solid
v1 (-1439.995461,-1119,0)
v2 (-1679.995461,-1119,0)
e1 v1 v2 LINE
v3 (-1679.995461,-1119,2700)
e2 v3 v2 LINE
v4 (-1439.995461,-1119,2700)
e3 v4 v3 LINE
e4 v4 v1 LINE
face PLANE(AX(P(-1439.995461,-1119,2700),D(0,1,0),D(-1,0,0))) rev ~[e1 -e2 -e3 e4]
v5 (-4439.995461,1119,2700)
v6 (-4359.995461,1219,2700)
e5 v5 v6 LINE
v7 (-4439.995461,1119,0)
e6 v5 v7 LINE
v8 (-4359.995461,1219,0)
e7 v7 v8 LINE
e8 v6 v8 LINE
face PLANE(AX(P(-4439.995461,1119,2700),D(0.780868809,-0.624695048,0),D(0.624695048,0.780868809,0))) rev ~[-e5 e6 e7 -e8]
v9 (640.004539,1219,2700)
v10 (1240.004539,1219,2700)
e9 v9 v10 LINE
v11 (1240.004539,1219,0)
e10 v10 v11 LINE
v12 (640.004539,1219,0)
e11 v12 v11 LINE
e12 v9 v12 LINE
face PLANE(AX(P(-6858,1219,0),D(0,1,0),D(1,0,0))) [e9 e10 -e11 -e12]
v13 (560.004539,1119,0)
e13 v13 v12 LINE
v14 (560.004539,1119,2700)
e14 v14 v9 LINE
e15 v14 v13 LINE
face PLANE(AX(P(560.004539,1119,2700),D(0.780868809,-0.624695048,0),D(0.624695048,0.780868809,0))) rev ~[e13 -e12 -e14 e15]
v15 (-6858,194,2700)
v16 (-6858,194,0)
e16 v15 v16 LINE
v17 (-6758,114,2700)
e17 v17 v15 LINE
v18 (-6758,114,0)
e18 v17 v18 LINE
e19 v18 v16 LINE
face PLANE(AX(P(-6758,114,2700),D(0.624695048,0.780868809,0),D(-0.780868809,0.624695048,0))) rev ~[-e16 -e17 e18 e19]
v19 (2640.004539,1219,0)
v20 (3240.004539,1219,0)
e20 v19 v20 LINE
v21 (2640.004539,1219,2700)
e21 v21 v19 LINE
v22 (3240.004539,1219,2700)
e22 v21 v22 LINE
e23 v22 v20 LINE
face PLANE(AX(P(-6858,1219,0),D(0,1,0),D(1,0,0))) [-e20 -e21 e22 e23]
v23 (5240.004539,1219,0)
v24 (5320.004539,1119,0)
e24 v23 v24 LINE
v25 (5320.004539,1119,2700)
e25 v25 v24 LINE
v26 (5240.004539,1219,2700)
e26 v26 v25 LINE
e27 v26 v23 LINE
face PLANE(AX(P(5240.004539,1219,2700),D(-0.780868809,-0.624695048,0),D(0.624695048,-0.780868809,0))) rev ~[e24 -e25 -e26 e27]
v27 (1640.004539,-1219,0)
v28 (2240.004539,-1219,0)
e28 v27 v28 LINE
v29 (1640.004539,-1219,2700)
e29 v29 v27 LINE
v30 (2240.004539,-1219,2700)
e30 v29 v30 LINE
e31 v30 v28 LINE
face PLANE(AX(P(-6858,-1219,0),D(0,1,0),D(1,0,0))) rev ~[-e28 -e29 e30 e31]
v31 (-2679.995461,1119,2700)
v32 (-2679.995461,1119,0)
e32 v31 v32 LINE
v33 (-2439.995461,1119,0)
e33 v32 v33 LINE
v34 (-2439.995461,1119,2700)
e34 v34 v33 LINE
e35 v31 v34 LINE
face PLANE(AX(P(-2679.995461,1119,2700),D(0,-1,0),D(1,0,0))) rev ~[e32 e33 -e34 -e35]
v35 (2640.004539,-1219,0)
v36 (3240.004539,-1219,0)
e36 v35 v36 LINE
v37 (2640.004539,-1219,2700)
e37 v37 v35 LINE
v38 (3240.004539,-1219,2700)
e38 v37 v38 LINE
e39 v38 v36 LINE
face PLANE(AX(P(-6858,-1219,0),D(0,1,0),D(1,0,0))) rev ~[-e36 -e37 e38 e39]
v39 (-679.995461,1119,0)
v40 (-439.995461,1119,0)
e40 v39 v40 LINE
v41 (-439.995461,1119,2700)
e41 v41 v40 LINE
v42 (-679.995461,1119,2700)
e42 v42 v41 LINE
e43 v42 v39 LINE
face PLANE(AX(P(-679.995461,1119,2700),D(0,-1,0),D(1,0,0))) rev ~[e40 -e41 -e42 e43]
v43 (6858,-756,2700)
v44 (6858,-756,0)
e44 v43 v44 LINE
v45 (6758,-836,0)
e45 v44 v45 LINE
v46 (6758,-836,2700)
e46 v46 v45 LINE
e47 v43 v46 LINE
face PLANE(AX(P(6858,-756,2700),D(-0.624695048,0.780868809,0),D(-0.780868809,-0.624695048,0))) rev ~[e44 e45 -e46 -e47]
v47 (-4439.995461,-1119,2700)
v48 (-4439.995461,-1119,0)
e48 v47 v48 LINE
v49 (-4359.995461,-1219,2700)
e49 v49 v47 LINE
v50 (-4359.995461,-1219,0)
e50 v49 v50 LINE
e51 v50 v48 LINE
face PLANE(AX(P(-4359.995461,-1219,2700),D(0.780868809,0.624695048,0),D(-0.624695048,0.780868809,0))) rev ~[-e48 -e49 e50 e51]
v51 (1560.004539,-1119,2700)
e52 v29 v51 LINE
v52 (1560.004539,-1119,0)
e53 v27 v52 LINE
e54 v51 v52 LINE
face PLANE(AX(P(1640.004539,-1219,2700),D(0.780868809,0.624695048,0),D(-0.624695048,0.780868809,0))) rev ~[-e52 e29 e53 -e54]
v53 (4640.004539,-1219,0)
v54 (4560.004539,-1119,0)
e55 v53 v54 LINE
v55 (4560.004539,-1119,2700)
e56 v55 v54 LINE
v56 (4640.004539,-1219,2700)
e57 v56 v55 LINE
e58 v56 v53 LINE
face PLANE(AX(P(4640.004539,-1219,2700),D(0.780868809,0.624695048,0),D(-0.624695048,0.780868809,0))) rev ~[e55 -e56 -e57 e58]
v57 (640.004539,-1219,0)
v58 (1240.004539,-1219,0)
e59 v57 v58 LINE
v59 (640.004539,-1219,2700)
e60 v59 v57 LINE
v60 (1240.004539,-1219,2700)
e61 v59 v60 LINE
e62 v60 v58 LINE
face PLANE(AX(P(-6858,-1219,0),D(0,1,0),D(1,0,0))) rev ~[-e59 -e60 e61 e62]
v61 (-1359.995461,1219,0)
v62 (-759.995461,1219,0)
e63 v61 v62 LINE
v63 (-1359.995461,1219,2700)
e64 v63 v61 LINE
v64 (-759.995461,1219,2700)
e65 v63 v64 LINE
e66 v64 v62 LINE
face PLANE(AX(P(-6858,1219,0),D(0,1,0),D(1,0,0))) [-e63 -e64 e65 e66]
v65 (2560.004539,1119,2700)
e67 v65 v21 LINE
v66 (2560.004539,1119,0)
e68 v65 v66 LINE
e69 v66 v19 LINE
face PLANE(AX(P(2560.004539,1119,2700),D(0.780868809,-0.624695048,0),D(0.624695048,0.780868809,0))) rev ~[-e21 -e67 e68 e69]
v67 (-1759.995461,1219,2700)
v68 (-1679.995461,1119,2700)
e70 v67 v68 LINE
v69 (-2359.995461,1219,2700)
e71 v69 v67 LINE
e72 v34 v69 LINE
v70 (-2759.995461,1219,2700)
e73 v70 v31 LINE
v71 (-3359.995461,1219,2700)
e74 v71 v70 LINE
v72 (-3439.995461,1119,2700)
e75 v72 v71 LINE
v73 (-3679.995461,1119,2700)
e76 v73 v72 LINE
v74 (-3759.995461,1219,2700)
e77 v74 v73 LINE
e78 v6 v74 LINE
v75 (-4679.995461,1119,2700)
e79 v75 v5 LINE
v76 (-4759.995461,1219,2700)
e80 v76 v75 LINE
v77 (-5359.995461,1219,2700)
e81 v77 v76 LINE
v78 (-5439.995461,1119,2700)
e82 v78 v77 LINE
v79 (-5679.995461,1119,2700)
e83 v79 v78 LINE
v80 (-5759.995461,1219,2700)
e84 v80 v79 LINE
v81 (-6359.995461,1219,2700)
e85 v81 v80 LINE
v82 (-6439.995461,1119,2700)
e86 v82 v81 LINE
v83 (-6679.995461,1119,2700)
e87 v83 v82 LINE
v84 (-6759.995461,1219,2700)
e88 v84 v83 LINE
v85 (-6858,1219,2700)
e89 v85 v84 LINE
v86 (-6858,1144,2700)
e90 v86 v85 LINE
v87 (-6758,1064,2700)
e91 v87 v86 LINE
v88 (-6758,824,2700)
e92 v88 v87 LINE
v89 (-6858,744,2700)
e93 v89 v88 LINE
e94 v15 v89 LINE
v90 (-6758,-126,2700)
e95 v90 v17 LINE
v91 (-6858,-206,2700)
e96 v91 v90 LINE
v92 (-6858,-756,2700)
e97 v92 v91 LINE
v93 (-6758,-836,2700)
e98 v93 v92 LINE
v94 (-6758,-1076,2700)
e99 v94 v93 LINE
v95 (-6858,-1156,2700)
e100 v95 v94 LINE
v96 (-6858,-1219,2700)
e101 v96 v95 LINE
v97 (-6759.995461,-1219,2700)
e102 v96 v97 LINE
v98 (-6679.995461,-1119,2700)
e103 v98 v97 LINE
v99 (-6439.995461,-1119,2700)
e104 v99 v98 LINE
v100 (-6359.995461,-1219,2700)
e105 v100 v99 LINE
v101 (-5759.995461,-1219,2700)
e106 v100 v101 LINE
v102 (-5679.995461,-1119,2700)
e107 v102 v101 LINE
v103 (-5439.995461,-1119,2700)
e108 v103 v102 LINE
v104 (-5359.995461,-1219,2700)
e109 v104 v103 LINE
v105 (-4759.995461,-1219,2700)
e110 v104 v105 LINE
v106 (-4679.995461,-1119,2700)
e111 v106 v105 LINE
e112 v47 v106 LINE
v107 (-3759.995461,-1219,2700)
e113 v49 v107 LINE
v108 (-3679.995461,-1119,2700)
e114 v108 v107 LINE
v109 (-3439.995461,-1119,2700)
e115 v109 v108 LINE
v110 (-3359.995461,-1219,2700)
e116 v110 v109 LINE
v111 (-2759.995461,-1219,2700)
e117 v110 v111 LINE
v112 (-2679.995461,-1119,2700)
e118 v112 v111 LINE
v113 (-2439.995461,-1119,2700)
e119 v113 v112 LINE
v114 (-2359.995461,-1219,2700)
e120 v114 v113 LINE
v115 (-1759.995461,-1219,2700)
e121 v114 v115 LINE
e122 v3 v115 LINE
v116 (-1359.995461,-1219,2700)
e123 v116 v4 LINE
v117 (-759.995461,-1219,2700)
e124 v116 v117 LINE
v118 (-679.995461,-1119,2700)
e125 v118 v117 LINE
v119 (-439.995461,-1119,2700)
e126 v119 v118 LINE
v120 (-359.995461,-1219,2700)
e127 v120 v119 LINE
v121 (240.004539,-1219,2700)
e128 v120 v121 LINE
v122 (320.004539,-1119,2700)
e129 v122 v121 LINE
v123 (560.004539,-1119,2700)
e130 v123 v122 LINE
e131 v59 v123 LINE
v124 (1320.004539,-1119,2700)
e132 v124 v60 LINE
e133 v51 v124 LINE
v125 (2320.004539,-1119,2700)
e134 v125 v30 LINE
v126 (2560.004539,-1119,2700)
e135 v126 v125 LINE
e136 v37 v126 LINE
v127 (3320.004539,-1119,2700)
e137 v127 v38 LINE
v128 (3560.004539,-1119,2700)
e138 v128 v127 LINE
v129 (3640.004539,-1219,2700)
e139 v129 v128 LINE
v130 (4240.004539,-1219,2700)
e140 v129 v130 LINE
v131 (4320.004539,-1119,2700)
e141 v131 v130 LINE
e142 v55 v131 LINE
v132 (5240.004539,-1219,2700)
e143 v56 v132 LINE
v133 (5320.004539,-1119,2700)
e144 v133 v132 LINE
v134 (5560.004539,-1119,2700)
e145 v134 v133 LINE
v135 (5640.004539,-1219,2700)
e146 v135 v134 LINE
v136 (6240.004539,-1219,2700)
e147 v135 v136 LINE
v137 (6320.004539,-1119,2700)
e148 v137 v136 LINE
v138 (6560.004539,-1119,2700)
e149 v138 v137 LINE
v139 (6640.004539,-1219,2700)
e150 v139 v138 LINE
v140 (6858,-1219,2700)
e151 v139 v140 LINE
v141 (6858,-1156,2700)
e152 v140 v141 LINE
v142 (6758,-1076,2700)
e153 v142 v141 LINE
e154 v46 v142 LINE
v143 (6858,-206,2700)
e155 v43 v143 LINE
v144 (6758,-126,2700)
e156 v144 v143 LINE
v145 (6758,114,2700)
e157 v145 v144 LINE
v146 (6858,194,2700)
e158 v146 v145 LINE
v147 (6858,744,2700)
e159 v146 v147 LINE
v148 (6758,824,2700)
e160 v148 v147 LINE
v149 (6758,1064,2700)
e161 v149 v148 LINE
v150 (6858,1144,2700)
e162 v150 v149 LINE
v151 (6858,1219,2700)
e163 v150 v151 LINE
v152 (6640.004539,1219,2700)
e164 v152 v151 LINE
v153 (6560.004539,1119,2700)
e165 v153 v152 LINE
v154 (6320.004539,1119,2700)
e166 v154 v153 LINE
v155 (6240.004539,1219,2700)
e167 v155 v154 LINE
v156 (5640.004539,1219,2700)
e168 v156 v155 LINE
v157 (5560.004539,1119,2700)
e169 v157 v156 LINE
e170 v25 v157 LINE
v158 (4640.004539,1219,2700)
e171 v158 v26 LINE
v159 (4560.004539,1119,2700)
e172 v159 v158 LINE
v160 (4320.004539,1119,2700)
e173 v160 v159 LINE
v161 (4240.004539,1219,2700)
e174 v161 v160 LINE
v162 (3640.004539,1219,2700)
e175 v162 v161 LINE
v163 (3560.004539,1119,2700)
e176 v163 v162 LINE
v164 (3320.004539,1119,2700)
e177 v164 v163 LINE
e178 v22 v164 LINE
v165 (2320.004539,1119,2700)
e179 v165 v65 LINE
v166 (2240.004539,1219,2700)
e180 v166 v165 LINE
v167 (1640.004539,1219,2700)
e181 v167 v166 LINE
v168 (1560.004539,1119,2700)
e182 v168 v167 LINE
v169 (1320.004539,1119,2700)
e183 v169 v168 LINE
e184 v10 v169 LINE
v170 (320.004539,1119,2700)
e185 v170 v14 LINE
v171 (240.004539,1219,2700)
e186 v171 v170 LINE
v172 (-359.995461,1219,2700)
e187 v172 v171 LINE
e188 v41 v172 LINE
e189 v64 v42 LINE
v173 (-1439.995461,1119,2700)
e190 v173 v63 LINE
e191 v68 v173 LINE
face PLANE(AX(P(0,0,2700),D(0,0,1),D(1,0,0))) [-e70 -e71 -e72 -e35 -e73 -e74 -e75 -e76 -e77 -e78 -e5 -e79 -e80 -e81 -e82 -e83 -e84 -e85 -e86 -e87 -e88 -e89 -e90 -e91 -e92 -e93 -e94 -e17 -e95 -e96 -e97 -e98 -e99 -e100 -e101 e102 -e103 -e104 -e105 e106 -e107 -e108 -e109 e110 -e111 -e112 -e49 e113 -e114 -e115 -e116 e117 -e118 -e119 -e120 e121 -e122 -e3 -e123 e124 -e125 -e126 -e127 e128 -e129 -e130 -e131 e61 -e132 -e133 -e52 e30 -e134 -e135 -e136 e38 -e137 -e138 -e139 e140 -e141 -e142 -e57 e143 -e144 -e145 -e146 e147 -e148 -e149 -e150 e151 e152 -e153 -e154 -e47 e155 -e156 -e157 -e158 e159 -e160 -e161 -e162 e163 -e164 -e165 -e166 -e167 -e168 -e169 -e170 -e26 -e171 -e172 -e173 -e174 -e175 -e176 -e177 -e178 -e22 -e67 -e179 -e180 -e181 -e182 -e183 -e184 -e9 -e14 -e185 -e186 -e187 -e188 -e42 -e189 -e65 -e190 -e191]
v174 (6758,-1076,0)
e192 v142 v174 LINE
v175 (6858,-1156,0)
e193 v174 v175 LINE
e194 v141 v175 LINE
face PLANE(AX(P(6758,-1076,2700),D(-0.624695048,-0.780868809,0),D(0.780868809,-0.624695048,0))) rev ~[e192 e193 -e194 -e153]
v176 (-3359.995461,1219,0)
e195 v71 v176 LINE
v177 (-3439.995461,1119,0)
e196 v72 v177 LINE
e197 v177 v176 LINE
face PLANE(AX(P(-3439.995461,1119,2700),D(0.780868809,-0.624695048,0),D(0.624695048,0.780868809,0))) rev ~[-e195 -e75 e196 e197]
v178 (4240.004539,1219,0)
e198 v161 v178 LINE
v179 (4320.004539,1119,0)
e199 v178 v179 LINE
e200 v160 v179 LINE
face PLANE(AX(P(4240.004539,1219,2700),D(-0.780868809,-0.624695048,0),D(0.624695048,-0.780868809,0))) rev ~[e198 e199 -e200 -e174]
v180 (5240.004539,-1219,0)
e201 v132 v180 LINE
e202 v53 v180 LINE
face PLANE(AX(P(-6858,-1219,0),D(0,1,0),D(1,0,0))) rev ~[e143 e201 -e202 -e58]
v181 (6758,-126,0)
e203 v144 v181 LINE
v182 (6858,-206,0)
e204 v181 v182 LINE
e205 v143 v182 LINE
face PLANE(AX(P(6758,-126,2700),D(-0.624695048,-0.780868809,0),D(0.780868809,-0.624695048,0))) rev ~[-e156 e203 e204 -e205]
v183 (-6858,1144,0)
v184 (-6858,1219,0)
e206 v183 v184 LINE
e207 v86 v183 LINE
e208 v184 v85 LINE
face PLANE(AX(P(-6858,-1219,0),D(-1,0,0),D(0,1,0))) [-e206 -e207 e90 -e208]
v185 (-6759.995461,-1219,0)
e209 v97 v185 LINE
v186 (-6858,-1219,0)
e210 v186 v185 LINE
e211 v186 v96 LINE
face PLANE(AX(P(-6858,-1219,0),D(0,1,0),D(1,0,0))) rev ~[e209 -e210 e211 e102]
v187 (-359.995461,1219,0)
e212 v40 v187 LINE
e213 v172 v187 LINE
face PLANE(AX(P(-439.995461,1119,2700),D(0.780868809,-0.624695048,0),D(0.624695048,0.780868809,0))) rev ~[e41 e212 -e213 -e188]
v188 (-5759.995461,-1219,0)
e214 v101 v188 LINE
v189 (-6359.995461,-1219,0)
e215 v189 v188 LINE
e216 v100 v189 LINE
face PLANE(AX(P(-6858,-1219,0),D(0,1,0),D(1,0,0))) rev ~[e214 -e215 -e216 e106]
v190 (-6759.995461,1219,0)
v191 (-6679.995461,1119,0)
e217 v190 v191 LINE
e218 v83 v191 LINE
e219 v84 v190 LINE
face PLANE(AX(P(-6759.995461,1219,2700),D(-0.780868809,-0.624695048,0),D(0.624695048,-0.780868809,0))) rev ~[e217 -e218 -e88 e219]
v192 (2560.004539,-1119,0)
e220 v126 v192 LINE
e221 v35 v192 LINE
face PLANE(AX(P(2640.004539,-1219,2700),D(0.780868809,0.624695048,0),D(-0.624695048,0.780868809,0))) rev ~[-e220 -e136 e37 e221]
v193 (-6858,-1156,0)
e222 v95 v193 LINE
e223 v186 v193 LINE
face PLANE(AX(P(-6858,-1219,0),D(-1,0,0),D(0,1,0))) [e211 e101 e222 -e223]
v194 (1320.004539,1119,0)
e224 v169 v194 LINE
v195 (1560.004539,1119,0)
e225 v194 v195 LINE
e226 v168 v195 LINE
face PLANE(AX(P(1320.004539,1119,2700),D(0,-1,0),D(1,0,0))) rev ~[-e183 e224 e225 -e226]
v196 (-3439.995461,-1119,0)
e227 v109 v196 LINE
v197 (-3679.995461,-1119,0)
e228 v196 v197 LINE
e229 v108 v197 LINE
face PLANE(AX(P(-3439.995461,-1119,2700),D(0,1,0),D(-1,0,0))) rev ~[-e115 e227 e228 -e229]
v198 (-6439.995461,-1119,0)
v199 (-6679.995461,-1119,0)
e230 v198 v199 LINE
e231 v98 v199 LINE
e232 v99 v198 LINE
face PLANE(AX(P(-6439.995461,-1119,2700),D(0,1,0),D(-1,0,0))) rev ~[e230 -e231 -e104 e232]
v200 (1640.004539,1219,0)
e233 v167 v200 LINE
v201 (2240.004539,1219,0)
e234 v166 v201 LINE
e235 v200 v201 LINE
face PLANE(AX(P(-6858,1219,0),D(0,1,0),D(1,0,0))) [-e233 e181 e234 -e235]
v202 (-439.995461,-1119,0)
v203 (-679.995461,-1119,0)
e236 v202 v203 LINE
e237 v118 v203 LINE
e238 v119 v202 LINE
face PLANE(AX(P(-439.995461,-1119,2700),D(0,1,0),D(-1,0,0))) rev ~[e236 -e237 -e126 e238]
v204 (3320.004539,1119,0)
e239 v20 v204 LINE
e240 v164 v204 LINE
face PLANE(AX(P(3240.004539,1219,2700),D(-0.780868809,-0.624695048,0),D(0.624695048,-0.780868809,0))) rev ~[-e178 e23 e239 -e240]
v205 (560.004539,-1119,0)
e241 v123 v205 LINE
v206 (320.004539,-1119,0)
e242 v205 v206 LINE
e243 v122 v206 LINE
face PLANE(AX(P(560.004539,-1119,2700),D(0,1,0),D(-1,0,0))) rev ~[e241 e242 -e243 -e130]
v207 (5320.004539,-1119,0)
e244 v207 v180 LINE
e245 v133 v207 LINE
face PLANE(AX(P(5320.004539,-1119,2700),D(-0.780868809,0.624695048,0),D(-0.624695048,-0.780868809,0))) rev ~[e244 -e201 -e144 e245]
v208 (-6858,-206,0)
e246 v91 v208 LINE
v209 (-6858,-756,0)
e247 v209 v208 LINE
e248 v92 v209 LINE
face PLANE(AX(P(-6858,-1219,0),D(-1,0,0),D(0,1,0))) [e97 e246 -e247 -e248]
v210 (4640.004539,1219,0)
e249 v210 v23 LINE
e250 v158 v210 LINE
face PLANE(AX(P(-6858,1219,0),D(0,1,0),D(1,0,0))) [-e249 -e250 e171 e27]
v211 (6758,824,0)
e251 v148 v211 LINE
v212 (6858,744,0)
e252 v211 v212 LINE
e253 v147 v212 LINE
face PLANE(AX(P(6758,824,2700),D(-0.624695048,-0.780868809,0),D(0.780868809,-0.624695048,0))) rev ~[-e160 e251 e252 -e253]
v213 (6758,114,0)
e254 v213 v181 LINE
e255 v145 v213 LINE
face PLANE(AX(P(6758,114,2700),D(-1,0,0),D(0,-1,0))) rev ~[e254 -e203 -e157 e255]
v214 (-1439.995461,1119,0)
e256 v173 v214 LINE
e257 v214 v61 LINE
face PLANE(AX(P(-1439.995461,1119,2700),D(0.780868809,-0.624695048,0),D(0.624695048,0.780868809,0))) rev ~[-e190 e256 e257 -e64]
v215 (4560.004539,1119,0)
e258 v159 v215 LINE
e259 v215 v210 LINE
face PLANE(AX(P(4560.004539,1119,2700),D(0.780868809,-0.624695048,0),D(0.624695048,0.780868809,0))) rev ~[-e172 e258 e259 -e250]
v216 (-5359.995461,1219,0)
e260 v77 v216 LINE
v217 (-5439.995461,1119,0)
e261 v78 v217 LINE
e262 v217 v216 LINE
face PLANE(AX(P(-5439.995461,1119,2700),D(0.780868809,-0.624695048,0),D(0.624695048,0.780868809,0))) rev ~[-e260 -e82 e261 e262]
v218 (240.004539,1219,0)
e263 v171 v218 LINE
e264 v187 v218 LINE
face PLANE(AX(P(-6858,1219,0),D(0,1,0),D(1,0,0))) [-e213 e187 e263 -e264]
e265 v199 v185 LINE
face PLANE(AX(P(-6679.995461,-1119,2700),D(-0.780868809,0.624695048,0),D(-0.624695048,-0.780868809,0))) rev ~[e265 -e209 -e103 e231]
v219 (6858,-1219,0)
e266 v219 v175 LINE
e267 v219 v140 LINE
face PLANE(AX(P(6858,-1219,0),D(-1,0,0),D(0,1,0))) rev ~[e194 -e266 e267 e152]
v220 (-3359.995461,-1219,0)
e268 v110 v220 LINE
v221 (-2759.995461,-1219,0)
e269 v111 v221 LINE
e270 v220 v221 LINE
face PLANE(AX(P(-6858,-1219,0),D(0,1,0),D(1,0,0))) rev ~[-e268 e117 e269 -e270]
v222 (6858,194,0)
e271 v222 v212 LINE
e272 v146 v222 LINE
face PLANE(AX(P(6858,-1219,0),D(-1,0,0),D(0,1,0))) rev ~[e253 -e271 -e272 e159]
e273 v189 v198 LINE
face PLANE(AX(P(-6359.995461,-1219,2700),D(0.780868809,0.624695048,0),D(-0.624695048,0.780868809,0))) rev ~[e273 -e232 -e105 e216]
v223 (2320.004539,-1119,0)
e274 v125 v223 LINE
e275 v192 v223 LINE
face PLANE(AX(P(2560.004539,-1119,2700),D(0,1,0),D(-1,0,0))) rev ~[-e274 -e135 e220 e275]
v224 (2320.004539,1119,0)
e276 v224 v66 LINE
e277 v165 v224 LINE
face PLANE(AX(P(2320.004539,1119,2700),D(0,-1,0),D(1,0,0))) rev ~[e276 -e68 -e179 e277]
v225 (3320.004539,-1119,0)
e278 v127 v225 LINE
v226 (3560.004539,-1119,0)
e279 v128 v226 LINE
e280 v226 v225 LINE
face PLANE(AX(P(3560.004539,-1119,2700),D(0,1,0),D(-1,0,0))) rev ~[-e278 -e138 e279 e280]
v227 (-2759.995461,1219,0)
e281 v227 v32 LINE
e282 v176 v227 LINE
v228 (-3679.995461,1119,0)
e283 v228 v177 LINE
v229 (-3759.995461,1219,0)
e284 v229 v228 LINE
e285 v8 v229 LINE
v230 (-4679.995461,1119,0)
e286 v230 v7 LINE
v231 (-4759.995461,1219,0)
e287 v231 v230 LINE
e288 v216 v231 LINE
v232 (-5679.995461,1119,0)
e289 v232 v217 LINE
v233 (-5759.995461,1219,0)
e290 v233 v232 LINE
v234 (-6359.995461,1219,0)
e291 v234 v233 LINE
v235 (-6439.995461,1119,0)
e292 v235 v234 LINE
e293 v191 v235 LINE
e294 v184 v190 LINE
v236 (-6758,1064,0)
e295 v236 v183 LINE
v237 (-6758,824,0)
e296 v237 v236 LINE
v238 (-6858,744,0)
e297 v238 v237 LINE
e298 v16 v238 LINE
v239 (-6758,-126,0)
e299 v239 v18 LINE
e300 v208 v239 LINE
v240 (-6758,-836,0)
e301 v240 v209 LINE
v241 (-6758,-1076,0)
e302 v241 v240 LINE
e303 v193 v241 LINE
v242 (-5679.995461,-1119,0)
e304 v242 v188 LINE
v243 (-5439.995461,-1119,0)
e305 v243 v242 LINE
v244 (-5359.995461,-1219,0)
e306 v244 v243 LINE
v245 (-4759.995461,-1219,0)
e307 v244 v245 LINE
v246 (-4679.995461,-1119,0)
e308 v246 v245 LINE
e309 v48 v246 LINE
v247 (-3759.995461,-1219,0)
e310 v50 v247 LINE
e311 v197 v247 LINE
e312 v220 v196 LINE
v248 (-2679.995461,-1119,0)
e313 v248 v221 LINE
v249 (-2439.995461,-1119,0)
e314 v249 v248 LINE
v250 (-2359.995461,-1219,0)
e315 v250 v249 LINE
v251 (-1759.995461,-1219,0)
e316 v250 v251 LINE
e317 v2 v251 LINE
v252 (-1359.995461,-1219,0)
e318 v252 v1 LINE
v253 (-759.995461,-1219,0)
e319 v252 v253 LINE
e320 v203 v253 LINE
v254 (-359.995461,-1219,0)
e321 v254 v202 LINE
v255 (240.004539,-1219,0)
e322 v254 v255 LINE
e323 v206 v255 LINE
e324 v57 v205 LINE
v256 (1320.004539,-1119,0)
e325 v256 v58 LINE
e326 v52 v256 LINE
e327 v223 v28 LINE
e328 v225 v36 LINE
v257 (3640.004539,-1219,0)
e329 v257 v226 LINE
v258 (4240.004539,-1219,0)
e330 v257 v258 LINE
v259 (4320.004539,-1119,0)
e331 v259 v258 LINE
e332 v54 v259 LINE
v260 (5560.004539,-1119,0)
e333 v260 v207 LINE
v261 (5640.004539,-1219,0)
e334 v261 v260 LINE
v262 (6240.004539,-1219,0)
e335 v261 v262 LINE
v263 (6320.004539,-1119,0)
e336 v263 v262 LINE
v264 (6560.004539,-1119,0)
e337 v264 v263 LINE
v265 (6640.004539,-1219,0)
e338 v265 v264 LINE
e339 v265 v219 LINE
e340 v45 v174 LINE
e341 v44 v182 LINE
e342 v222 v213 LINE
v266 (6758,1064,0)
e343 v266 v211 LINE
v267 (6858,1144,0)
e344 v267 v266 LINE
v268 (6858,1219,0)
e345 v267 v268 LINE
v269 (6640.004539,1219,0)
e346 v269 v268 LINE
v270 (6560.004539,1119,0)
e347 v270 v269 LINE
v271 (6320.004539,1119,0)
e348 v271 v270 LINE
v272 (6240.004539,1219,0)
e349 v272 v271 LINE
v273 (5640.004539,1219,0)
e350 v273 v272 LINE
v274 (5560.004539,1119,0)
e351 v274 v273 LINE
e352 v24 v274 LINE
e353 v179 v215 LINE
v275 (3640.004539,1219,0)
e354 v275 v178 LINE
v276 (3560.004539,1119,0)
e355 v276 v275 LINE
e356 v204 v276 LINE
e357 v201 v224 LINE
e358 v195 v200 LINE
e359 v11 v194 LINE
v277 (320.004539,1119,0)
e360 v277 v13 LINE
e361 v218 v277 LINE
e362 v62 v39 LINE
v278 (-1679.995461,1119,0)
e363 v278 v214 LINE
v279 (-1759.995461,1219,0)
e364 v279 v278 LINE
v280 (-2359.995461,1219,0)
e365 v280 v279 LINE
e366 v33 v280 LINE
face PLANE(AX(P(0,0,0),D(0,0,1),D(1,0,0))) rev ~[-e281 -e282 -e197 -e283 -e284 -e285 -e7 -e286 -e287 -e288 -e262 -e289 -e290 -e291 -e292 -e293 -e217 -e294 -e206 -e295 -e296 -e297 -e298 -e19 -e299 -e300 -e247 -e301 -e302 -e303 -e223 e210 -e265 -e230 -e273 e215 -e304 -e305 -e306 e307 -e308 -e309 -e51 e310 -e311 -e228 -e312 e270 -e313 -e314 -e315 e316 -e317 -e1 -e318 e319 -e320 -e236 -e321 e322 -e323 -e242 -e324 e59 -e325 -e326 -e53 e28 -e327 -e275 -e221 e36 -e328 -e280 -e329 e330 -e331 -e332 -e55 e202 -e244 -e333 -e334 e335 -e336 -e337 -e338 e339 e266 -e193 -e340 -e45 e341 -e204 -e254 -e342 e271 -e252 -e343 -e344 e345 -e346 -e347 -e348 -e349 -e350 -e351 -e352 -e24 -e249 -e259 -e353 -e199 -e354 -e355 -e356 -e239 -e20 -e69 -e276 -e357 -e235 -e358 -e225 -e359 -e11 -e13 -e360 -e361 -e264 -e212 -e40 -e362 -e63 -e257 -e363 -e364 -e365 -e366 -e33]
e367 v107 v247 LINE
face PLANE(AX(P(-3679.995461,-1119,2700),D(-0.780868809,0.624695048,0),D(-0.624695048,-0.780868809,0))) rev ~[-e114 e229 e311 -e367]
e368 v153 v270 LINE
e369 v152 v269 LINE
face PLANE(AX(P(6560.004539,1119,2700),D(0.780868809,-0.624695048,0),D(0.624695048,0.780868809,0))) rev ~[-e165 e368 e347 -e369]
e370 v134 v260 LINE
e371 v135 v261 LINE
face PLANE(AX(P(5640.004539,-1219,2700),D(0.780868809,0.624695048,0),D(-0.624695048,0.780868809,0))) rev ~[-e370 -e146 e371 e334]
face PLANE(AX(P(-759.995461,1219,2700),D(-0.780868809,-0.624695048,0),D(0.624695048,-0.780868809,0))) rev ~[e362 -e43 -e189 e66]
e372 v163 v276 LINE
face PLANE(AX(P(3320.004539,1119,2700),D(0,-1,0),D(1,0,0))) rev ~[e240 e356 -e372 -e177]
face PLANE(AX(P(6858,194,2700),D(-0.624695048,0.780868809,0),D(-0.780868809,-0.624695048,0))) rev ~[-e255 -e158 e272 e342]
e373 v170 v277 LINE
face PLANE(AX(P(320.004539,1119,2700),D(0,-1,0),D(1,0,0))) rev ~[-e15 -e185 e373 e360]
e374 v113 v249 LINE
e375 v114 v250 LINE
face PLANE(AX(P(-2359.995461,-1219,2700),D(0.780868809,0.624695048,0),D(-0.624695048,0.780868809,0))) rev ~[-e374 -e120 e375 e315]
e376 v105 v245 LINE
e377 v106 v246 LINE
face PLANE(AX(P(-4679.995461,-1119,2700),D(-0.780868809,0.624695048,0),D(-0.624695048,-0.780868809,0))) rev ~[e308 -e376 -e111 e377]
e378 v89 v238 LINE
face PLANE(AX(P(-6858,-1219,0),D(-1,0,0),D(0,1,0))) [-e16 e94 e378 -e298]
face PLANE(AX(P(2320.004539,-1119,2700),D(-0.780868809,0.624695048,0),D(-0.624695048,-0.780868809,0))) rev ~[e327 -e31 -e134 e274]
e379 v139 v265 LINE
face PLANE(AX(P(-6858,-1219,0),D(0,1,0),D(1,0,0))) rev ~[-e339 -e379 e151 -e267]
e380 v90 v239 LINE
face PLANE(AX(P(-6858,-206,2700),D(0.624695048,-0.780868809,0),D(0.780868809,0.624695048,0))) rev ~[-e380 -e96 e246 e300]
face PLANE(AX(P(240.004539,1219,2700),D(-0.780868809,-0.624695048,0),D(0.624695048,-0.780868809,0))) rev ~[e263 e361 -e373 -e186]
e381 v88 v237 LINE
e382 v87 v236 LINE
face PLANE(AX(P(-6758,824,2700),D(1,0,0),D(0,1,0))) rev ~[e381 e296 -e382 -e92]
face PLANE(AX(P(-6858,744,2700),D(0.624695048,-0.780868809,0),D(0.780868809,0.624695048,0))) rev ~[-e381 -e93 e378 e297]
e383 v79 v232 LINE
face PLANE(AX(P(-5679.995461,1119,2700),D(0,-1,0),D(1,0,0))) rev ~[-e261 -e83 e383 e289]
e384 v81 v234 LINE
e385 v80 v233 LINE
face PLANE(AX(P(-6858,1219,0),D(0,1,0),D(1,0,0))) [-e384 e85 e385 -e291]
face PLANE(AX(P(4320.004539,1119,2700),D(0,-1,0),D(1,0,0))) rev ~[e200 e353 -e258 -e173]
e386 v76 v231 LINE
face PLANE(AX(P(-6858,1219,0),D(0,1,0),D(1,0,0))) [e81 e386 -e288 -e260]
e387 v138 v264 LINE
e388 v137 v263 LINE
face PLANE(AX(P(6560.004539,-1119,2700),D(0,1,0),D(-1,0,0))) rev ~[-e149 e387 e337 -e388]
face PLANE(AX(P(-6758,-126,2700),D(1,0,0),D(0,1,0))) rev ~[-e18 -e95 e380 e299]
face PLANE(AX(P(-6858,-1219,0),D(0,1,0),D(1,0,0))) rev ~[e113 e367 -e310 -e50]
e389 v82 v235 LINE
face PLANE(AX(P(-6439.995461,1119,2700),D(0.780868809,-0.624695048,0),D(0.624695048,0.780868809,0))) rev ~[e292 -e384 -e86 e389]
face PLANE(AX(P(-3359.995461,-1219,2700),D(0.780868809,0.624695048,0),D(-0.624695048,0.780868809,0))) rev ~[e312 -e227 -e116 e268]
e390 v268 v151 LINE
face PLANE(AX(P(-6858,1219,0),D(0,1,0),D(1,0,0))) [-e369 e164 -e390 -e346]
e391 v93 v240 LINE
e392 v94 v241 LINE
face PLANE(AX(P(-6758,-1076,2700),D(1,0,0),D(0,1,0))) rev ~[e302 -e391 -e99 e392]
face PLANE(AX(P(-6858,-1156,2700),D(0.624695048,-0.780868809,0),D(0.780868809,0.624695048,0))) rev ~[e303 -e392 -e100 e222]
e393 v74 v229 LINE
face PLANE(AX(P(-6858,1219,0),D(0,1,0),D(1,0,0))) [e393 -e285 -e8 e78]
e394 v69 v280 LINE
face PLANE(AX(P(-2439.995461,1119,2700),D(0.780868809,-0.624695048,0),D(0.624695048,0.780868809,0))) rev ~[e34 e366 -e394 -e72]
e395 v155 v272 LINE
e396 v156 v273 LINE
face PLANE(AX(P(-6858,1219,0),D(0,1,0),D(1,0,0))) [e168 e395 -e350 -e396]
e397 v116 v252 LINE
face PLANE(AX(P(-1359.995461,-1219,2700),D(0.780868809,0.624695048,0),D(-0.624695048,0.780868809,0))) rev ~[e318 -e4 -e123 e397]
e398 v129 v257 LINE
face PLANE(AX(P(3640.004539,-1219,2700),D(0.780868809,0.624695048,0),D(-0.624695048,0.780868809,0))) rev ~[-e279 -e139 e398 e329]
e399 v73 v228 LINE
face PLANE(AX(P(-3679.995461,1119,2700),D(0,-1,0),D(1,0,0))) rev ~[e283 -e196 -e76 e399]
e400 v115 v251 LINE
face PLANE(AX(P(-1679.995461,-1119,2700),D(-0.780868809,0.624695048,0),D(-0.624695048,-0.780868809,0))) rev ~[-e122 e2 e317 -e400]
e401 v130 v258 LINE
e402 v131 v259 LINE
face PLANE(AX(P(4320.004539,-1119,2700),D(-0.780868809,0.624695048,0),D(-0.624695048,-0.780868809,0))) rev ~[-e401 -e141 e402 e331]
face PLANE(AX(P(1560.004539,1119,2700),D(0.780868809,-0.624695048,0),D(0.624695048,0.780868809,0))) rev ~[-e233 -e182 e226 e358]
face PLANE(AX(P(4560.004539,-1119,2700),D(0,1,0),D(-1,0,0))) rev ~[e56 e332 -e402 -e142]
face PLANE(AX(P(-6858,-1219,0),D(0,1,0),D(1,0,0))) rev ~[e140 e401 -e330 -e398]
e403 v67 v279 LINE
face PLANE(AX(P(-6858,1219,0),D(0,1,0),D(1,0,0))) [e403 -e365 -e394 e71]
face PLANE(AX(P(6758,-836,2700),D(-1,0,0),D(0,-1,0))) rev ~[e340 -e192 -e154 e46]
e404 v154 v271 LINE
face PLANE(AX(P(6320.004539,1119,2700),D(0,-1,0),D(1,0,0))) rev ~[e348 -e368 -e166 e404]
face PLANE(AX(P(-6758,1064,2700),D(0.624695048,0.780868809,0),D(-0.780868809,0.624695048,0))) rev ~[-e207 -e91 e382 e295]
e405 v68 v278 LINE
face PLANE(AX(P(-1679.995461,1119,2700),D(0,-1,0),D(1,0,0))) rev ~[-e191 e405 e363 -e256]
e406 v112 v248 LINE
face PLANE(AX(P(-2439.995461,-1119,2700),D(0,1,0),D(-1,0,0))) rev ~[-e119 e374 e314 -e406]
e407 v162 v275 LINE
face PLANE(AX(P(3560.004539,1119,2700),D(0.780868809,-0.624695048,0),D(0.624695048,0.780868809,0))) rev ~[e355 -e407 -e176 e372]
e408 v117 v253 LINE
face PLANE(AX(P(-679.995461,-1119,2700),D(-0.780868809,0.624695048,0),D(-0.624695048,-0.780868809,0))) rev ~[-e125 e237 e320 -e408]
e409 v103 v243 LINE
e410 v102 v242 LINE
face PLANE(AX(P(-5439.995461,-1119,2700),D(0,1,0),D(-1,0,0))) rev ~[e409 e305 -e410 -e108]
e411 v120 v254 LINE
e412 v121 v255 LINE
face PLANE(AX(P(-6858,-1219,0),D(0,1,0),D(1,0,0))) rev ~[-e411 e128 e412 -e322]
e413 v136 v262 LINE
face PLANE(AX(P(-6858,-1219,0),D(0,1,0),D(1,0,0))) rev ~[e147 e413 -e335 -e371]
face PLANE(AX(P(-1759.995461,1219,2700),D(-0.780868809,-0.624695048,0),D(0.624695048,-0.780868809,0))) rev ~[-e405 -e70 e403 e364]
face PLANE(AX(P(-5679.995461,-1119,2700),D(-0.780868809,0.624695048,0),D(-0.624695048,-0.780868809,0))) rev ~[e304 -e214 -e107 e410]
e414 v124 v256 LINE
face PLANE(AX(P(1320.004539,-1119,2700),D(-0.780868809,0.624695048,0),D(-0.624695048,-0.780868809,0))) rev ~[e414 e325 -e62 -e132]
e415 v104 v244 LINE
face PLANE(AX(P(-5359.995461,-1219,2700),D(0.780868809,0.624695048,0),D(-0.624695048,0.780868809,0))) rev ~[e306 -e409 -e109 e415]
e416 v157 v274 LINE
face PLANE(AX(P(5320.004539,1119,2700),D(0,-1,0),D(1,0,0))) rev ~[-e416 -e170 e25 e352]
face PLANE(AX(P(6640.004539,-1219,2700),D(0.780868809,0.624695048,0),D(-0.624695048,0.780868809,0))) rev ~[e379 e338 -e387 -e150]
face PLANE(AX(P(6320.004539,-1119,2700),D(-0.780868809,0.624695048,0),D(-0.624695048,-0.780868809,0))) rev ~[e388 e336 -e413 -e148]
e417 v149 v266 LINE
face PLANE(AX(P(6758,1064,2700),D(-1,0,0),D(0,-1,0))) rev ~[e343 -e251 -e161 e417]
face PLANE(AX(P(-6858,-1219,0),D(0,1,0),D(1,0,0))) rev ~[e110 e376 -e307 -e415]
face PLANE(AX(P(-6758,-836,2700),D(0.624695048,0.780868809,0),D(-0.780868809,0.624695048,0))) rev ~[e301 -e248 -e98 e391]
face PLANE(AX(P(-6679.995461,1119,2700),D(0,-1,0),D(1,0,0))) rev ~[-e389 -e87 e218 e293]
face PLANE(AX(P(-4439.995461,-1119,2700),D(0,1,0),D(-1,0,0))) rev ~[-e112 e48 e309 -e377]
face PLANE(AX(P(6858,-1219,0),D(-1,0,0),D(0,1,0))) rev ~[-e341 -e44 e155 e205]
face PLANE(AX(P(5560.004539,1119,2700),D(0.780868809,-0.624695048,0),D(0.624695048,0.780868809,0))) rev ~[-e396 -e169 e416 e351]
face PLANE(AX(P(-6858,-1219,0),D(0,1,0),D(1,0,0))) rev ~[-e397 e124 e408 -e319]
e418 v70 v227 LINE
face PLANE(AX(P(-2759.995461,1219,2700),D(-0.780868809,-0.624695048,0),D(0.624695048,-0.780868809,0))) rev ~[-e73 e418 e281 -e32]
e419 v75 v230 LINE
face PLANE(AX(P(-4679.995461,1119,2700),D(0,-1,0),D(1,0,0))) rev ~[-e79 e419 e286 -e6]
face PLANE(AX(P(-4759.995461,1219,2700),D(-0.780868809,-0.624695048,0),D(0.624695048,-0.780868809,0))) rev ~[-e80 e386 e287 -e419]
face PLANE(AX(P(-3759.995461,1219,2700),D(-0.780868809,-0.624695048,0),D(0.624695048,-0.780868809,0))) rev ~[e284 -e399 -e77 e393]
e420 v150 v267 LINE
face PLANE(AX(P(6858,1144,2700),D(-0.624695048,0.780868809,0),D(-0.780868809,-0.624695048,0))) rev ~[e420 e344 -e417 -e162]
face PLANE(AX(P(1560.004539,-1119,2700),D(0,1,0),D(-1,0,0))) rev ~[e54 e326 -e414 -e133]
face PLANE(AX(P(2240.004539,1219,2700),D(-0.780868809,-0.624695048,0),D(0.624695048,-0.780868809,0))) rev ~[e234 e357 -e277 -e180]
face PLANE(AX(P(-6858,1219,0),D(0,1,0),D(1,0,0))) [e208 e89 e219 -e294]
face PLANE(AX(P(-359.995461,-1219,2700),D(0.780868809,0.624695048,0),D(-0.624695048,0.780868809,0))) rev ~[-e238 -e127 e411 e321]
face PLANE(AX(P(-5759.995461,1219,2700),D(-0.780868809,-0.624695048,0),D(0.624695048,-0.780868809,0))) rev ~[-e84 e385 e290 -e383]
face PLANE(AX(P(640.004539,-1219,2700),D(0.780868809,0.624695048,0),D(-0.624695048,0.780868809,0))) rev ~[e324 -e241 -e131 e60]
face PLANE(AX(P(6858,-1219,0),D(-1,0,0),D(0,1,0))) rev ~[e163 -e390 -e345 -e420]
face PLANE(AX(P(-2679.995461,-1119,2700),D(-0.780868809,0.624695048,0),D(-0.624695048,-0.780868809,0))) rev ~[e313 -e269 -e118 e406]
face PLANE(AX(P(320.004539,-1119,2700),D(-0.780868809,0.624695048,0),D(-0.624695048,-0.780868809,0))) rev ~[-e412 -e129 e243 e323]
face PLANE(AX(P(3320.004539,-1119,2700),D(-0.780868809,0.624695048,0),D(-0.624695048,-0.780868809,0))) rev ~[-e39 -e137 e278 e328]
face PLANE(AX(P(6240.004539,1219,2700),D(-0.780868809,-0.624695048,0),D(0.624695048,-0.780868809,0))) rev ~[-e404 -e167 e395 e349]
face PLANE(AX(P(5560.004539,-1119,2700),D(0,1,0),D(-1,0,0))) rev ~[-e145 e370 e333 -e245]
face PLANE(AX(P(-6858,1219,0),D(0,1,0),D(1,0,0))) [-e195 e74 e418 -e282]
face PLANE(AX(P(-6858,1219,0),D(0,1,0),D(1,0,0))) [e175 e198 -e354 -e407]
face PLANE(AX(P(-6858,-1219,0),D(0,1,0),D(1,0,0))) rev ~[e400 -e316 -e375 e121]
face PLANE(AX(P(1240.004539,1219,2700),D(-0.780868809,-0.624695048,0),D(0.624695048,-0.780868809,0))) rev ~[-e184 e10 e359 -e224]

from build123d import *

# Parameters (mm, degrees)
F0_W     = 13716
F0_H     = 2438
F1_DEPTH = 2700
F3_DEPTH = 2700


with BuildPart() as f1:
    # F0 (on Top) → F1 (new body)
    with BuildSketch(Plane.XY):
        Rectangle(F0_W, F0_H)
    extrude(amount=F1_DEPTH)

    # F2 (on face) → F3 (cut, through all)
    with BuildSketch(Plane.XY.offset(2700)):
        Polygon((-6559.995461, 1219), (-6759.995461, 1219), (-6679.995461, 1119), (-6559.995461, 1119), (-6439.995461, 1119), (-6359.995461, 1219), align=None)
        Polygon((-5559.995461, 1219), (-5759.995461, 1219), (-5679.995461, 1119), (-5559.995461, 1119), (-5439.995461, 1119), (-5359.995461, 1219), align=None)
        Polygon((-4559.995461, 1219), (-4759.995461, 1219), (-4679.995461, 1119), (-4559.995461, 1119), (-4439.995461, 1119), (-4359.995461, 1219), align=None)
        Polygon((-6679.995461, -1119), (-6759.995461, -1219), (-6559.995461, -1219), (-6359.995461, -1219), (-6439.995461, -1119), (-6559.995461, -1119), align=None)
        Polygon((-5679.995461, -1119), (-5759.995461, -1219), (-5559.995461, -1219), (-5359.995461, -1219), (-5439.995461, -1119), (-5559.995461, -1119), align=None)
        Polygon((-4679.995461, -1119), (-4759.995461, -1219), (-4559.995461, -1219), (-4359.995461, -1219), (-4439.995461, -1119), (-4559.995461, -1119), align=None)
        Polygon((-3679.995461, -1119), (-3759.995461, -1219), (-3559.995461, -1219), (-3359.995461, -1219), (-3439.995461, -1119), (-3559.995461, -1119), align=None)
        Polygon((-2679.995461, -1119), (-2759.995461, -1219), (-2559.995461, -1219), (-2359.995461, -1219), (-2439.995461, -1119), (-2559.995461, -1119), align=None)
        Polygon((-2559.995461, 1219), (-2759.995461, 1219), (-2679.995461, 1119), (-2559.995461, 1119), (-2439.995461, 1119), (-2359.995461, 1219), align=None)
        Polygon((-1559.995461, 1219), (-1759.995461, 1219), (-1679.995461, 1119), (-1559.995461, 1119), (-1439.995461, 1119), (-1359.995461, 1219), align=None)
        Polygon((-3559.995461, 1219), (-3759.995461, 1219), (-3679.995461, 1119), (-3559.995461, 1119), (-3439.995461, 1119), (-3359.995461, 1219), align=None)
        Polygon((-1679.995461, -1119), (-1759.995461, -1219), (-1559.995461, -1219), (-1359.995461, -1219), (-1439.995461, -1119), (-1559.995461, -1119), align=None)
        Polygon((-679.995461, -1119), (-759.995461, -1219), (-559.995461, -1219), (-359.995461, -1219), (-439.995461, -1119), (-559.995461, -1119), align=None)
        Polygon((-559.995461, 1219), (-759.995461, 1219), (-679.995461, 1119), (-559.995461, 1119), (-439.995461, 1119), (-359.995461, 1219), align=None)
        Polygon((440.004539, 1219), (240.004539, 1219), (320.004539, 1119), (440.004539, 1119), (560.004539, 1119), (640.004539, 1219), align=None)
        Polygon((1440.004539, 1219), (1240.004539, 1219), (1320.004539, 1119), (1440.004539, 1119), (1560.004539, 1119), (1640.004539, 1219), align=None)
        Polygon((320.004539, -1119), (240.004539, -1219), (440.004539, -1219), (640.004539, -1219), (560.004539, -1119), (440.004539, -1119), align=None)
        Polygon((1320.004539, -1119), (1240.004539, -1219), (1440.004539, -1219), (1640.004539, -1219), (1560.004539, -1119), (1440.004539, -1119), align=None)
        Polygon((2320.004539, -1119), (2240.004539, -1219), (2440.004539, -1219), (2640.004539, -1219), (2560.004539, -1119), (2440.004539, -1119), align=None)
        Polygon((2440.004539, 1219), (2240.004539, 1219), (2320.004539, 1119), (2440.004539, 1119), (2560.004539, 1119), (2640.004539, 1219), align=None)
        Polygon((3440.004539, 1219), (3240.004539, 1219), (3320.004539, 1119), (3440.004539, 1119), (3560.004539, 1119), (3640.004539, 1219), align=None)
        Polygon((4440.004539, 1219), (4240.004539, 1219), (4320.004539, 1119), (4440.004539, 1119), (4560.004539, 1119), (4640.004539, 1219), align=None)
        Polygon((5440.004539, 1219), (5240.004539, 1219), (5320.004539, 1119), (5440.004539, 1119), (5560.004539, 1119), (5640.004539, 1219), align=None)
        Polygon((5320.004539, -1119), (5240.004539, -1219), (5440.004539, -1219), (5640.004539, -1219), (5560.004539, -1119), (5440.004539, -1119), align=None)
        Polygon((4320.004539, -1119), (4240.004539, -1219), (4440.004539, -1219), (4640.004539, -1219), (4560.004539, -1119), (4440.004539, -1119), align=None)
        Polygon((3320.004539, -1119), (3240.004539, -1219), (3440.004539, -1219), (3640.004539, -1219), (3560.004539, -1119), (3440.004539, -1119), align=None)
        Polygon((6440.004539, 1219), (6240.004539, 1219), (6320.004539, 1119), (6440.004539, 1119), (6560.004539, 1119), (6640.004539, 1219), align=None)
        Polygon((6320.004539, -1119), (6240.004539, -1219), (6440.004539, -1219), (6640.004539, -1219), (6560.004539, -1119), (6440.004539, -1119), align=None)
        Polygon((6858, 944), (6858, 1144), (6758, 1064), (6758, 944), (6758, 824), (6858, 744), align=None)
        Polygon((6858, -6), (6858, 194), (6758, 114), (6758, -6), (6758, -126), (6858, -206), align=None)
        Polygon((6858, -956), (6858, -756), (6758, -836), (6758, -956), (6758, -1076), (6858, -1156), align=None)
        Polygon((-6758, 1064), (-6858, 1144), (-6858, 944), (-6858, 744), (-6758, 824), (-6758, 944), align=None)
        Polygon((-6758, 114), (-6858, 194), (-6858, -6), (-6858, -206), (-6758, -126), (-6758, -6), align=None)
        Polygon((-6758, -836), (-6858, -756), (-6858, -956), (-6858, -1156), (-6758, -1076), (-6758, -956), align=None)
    extrude(amount=-F3_DEPTH, mode=Mode.SUBTRACT)


solid = f1.part
